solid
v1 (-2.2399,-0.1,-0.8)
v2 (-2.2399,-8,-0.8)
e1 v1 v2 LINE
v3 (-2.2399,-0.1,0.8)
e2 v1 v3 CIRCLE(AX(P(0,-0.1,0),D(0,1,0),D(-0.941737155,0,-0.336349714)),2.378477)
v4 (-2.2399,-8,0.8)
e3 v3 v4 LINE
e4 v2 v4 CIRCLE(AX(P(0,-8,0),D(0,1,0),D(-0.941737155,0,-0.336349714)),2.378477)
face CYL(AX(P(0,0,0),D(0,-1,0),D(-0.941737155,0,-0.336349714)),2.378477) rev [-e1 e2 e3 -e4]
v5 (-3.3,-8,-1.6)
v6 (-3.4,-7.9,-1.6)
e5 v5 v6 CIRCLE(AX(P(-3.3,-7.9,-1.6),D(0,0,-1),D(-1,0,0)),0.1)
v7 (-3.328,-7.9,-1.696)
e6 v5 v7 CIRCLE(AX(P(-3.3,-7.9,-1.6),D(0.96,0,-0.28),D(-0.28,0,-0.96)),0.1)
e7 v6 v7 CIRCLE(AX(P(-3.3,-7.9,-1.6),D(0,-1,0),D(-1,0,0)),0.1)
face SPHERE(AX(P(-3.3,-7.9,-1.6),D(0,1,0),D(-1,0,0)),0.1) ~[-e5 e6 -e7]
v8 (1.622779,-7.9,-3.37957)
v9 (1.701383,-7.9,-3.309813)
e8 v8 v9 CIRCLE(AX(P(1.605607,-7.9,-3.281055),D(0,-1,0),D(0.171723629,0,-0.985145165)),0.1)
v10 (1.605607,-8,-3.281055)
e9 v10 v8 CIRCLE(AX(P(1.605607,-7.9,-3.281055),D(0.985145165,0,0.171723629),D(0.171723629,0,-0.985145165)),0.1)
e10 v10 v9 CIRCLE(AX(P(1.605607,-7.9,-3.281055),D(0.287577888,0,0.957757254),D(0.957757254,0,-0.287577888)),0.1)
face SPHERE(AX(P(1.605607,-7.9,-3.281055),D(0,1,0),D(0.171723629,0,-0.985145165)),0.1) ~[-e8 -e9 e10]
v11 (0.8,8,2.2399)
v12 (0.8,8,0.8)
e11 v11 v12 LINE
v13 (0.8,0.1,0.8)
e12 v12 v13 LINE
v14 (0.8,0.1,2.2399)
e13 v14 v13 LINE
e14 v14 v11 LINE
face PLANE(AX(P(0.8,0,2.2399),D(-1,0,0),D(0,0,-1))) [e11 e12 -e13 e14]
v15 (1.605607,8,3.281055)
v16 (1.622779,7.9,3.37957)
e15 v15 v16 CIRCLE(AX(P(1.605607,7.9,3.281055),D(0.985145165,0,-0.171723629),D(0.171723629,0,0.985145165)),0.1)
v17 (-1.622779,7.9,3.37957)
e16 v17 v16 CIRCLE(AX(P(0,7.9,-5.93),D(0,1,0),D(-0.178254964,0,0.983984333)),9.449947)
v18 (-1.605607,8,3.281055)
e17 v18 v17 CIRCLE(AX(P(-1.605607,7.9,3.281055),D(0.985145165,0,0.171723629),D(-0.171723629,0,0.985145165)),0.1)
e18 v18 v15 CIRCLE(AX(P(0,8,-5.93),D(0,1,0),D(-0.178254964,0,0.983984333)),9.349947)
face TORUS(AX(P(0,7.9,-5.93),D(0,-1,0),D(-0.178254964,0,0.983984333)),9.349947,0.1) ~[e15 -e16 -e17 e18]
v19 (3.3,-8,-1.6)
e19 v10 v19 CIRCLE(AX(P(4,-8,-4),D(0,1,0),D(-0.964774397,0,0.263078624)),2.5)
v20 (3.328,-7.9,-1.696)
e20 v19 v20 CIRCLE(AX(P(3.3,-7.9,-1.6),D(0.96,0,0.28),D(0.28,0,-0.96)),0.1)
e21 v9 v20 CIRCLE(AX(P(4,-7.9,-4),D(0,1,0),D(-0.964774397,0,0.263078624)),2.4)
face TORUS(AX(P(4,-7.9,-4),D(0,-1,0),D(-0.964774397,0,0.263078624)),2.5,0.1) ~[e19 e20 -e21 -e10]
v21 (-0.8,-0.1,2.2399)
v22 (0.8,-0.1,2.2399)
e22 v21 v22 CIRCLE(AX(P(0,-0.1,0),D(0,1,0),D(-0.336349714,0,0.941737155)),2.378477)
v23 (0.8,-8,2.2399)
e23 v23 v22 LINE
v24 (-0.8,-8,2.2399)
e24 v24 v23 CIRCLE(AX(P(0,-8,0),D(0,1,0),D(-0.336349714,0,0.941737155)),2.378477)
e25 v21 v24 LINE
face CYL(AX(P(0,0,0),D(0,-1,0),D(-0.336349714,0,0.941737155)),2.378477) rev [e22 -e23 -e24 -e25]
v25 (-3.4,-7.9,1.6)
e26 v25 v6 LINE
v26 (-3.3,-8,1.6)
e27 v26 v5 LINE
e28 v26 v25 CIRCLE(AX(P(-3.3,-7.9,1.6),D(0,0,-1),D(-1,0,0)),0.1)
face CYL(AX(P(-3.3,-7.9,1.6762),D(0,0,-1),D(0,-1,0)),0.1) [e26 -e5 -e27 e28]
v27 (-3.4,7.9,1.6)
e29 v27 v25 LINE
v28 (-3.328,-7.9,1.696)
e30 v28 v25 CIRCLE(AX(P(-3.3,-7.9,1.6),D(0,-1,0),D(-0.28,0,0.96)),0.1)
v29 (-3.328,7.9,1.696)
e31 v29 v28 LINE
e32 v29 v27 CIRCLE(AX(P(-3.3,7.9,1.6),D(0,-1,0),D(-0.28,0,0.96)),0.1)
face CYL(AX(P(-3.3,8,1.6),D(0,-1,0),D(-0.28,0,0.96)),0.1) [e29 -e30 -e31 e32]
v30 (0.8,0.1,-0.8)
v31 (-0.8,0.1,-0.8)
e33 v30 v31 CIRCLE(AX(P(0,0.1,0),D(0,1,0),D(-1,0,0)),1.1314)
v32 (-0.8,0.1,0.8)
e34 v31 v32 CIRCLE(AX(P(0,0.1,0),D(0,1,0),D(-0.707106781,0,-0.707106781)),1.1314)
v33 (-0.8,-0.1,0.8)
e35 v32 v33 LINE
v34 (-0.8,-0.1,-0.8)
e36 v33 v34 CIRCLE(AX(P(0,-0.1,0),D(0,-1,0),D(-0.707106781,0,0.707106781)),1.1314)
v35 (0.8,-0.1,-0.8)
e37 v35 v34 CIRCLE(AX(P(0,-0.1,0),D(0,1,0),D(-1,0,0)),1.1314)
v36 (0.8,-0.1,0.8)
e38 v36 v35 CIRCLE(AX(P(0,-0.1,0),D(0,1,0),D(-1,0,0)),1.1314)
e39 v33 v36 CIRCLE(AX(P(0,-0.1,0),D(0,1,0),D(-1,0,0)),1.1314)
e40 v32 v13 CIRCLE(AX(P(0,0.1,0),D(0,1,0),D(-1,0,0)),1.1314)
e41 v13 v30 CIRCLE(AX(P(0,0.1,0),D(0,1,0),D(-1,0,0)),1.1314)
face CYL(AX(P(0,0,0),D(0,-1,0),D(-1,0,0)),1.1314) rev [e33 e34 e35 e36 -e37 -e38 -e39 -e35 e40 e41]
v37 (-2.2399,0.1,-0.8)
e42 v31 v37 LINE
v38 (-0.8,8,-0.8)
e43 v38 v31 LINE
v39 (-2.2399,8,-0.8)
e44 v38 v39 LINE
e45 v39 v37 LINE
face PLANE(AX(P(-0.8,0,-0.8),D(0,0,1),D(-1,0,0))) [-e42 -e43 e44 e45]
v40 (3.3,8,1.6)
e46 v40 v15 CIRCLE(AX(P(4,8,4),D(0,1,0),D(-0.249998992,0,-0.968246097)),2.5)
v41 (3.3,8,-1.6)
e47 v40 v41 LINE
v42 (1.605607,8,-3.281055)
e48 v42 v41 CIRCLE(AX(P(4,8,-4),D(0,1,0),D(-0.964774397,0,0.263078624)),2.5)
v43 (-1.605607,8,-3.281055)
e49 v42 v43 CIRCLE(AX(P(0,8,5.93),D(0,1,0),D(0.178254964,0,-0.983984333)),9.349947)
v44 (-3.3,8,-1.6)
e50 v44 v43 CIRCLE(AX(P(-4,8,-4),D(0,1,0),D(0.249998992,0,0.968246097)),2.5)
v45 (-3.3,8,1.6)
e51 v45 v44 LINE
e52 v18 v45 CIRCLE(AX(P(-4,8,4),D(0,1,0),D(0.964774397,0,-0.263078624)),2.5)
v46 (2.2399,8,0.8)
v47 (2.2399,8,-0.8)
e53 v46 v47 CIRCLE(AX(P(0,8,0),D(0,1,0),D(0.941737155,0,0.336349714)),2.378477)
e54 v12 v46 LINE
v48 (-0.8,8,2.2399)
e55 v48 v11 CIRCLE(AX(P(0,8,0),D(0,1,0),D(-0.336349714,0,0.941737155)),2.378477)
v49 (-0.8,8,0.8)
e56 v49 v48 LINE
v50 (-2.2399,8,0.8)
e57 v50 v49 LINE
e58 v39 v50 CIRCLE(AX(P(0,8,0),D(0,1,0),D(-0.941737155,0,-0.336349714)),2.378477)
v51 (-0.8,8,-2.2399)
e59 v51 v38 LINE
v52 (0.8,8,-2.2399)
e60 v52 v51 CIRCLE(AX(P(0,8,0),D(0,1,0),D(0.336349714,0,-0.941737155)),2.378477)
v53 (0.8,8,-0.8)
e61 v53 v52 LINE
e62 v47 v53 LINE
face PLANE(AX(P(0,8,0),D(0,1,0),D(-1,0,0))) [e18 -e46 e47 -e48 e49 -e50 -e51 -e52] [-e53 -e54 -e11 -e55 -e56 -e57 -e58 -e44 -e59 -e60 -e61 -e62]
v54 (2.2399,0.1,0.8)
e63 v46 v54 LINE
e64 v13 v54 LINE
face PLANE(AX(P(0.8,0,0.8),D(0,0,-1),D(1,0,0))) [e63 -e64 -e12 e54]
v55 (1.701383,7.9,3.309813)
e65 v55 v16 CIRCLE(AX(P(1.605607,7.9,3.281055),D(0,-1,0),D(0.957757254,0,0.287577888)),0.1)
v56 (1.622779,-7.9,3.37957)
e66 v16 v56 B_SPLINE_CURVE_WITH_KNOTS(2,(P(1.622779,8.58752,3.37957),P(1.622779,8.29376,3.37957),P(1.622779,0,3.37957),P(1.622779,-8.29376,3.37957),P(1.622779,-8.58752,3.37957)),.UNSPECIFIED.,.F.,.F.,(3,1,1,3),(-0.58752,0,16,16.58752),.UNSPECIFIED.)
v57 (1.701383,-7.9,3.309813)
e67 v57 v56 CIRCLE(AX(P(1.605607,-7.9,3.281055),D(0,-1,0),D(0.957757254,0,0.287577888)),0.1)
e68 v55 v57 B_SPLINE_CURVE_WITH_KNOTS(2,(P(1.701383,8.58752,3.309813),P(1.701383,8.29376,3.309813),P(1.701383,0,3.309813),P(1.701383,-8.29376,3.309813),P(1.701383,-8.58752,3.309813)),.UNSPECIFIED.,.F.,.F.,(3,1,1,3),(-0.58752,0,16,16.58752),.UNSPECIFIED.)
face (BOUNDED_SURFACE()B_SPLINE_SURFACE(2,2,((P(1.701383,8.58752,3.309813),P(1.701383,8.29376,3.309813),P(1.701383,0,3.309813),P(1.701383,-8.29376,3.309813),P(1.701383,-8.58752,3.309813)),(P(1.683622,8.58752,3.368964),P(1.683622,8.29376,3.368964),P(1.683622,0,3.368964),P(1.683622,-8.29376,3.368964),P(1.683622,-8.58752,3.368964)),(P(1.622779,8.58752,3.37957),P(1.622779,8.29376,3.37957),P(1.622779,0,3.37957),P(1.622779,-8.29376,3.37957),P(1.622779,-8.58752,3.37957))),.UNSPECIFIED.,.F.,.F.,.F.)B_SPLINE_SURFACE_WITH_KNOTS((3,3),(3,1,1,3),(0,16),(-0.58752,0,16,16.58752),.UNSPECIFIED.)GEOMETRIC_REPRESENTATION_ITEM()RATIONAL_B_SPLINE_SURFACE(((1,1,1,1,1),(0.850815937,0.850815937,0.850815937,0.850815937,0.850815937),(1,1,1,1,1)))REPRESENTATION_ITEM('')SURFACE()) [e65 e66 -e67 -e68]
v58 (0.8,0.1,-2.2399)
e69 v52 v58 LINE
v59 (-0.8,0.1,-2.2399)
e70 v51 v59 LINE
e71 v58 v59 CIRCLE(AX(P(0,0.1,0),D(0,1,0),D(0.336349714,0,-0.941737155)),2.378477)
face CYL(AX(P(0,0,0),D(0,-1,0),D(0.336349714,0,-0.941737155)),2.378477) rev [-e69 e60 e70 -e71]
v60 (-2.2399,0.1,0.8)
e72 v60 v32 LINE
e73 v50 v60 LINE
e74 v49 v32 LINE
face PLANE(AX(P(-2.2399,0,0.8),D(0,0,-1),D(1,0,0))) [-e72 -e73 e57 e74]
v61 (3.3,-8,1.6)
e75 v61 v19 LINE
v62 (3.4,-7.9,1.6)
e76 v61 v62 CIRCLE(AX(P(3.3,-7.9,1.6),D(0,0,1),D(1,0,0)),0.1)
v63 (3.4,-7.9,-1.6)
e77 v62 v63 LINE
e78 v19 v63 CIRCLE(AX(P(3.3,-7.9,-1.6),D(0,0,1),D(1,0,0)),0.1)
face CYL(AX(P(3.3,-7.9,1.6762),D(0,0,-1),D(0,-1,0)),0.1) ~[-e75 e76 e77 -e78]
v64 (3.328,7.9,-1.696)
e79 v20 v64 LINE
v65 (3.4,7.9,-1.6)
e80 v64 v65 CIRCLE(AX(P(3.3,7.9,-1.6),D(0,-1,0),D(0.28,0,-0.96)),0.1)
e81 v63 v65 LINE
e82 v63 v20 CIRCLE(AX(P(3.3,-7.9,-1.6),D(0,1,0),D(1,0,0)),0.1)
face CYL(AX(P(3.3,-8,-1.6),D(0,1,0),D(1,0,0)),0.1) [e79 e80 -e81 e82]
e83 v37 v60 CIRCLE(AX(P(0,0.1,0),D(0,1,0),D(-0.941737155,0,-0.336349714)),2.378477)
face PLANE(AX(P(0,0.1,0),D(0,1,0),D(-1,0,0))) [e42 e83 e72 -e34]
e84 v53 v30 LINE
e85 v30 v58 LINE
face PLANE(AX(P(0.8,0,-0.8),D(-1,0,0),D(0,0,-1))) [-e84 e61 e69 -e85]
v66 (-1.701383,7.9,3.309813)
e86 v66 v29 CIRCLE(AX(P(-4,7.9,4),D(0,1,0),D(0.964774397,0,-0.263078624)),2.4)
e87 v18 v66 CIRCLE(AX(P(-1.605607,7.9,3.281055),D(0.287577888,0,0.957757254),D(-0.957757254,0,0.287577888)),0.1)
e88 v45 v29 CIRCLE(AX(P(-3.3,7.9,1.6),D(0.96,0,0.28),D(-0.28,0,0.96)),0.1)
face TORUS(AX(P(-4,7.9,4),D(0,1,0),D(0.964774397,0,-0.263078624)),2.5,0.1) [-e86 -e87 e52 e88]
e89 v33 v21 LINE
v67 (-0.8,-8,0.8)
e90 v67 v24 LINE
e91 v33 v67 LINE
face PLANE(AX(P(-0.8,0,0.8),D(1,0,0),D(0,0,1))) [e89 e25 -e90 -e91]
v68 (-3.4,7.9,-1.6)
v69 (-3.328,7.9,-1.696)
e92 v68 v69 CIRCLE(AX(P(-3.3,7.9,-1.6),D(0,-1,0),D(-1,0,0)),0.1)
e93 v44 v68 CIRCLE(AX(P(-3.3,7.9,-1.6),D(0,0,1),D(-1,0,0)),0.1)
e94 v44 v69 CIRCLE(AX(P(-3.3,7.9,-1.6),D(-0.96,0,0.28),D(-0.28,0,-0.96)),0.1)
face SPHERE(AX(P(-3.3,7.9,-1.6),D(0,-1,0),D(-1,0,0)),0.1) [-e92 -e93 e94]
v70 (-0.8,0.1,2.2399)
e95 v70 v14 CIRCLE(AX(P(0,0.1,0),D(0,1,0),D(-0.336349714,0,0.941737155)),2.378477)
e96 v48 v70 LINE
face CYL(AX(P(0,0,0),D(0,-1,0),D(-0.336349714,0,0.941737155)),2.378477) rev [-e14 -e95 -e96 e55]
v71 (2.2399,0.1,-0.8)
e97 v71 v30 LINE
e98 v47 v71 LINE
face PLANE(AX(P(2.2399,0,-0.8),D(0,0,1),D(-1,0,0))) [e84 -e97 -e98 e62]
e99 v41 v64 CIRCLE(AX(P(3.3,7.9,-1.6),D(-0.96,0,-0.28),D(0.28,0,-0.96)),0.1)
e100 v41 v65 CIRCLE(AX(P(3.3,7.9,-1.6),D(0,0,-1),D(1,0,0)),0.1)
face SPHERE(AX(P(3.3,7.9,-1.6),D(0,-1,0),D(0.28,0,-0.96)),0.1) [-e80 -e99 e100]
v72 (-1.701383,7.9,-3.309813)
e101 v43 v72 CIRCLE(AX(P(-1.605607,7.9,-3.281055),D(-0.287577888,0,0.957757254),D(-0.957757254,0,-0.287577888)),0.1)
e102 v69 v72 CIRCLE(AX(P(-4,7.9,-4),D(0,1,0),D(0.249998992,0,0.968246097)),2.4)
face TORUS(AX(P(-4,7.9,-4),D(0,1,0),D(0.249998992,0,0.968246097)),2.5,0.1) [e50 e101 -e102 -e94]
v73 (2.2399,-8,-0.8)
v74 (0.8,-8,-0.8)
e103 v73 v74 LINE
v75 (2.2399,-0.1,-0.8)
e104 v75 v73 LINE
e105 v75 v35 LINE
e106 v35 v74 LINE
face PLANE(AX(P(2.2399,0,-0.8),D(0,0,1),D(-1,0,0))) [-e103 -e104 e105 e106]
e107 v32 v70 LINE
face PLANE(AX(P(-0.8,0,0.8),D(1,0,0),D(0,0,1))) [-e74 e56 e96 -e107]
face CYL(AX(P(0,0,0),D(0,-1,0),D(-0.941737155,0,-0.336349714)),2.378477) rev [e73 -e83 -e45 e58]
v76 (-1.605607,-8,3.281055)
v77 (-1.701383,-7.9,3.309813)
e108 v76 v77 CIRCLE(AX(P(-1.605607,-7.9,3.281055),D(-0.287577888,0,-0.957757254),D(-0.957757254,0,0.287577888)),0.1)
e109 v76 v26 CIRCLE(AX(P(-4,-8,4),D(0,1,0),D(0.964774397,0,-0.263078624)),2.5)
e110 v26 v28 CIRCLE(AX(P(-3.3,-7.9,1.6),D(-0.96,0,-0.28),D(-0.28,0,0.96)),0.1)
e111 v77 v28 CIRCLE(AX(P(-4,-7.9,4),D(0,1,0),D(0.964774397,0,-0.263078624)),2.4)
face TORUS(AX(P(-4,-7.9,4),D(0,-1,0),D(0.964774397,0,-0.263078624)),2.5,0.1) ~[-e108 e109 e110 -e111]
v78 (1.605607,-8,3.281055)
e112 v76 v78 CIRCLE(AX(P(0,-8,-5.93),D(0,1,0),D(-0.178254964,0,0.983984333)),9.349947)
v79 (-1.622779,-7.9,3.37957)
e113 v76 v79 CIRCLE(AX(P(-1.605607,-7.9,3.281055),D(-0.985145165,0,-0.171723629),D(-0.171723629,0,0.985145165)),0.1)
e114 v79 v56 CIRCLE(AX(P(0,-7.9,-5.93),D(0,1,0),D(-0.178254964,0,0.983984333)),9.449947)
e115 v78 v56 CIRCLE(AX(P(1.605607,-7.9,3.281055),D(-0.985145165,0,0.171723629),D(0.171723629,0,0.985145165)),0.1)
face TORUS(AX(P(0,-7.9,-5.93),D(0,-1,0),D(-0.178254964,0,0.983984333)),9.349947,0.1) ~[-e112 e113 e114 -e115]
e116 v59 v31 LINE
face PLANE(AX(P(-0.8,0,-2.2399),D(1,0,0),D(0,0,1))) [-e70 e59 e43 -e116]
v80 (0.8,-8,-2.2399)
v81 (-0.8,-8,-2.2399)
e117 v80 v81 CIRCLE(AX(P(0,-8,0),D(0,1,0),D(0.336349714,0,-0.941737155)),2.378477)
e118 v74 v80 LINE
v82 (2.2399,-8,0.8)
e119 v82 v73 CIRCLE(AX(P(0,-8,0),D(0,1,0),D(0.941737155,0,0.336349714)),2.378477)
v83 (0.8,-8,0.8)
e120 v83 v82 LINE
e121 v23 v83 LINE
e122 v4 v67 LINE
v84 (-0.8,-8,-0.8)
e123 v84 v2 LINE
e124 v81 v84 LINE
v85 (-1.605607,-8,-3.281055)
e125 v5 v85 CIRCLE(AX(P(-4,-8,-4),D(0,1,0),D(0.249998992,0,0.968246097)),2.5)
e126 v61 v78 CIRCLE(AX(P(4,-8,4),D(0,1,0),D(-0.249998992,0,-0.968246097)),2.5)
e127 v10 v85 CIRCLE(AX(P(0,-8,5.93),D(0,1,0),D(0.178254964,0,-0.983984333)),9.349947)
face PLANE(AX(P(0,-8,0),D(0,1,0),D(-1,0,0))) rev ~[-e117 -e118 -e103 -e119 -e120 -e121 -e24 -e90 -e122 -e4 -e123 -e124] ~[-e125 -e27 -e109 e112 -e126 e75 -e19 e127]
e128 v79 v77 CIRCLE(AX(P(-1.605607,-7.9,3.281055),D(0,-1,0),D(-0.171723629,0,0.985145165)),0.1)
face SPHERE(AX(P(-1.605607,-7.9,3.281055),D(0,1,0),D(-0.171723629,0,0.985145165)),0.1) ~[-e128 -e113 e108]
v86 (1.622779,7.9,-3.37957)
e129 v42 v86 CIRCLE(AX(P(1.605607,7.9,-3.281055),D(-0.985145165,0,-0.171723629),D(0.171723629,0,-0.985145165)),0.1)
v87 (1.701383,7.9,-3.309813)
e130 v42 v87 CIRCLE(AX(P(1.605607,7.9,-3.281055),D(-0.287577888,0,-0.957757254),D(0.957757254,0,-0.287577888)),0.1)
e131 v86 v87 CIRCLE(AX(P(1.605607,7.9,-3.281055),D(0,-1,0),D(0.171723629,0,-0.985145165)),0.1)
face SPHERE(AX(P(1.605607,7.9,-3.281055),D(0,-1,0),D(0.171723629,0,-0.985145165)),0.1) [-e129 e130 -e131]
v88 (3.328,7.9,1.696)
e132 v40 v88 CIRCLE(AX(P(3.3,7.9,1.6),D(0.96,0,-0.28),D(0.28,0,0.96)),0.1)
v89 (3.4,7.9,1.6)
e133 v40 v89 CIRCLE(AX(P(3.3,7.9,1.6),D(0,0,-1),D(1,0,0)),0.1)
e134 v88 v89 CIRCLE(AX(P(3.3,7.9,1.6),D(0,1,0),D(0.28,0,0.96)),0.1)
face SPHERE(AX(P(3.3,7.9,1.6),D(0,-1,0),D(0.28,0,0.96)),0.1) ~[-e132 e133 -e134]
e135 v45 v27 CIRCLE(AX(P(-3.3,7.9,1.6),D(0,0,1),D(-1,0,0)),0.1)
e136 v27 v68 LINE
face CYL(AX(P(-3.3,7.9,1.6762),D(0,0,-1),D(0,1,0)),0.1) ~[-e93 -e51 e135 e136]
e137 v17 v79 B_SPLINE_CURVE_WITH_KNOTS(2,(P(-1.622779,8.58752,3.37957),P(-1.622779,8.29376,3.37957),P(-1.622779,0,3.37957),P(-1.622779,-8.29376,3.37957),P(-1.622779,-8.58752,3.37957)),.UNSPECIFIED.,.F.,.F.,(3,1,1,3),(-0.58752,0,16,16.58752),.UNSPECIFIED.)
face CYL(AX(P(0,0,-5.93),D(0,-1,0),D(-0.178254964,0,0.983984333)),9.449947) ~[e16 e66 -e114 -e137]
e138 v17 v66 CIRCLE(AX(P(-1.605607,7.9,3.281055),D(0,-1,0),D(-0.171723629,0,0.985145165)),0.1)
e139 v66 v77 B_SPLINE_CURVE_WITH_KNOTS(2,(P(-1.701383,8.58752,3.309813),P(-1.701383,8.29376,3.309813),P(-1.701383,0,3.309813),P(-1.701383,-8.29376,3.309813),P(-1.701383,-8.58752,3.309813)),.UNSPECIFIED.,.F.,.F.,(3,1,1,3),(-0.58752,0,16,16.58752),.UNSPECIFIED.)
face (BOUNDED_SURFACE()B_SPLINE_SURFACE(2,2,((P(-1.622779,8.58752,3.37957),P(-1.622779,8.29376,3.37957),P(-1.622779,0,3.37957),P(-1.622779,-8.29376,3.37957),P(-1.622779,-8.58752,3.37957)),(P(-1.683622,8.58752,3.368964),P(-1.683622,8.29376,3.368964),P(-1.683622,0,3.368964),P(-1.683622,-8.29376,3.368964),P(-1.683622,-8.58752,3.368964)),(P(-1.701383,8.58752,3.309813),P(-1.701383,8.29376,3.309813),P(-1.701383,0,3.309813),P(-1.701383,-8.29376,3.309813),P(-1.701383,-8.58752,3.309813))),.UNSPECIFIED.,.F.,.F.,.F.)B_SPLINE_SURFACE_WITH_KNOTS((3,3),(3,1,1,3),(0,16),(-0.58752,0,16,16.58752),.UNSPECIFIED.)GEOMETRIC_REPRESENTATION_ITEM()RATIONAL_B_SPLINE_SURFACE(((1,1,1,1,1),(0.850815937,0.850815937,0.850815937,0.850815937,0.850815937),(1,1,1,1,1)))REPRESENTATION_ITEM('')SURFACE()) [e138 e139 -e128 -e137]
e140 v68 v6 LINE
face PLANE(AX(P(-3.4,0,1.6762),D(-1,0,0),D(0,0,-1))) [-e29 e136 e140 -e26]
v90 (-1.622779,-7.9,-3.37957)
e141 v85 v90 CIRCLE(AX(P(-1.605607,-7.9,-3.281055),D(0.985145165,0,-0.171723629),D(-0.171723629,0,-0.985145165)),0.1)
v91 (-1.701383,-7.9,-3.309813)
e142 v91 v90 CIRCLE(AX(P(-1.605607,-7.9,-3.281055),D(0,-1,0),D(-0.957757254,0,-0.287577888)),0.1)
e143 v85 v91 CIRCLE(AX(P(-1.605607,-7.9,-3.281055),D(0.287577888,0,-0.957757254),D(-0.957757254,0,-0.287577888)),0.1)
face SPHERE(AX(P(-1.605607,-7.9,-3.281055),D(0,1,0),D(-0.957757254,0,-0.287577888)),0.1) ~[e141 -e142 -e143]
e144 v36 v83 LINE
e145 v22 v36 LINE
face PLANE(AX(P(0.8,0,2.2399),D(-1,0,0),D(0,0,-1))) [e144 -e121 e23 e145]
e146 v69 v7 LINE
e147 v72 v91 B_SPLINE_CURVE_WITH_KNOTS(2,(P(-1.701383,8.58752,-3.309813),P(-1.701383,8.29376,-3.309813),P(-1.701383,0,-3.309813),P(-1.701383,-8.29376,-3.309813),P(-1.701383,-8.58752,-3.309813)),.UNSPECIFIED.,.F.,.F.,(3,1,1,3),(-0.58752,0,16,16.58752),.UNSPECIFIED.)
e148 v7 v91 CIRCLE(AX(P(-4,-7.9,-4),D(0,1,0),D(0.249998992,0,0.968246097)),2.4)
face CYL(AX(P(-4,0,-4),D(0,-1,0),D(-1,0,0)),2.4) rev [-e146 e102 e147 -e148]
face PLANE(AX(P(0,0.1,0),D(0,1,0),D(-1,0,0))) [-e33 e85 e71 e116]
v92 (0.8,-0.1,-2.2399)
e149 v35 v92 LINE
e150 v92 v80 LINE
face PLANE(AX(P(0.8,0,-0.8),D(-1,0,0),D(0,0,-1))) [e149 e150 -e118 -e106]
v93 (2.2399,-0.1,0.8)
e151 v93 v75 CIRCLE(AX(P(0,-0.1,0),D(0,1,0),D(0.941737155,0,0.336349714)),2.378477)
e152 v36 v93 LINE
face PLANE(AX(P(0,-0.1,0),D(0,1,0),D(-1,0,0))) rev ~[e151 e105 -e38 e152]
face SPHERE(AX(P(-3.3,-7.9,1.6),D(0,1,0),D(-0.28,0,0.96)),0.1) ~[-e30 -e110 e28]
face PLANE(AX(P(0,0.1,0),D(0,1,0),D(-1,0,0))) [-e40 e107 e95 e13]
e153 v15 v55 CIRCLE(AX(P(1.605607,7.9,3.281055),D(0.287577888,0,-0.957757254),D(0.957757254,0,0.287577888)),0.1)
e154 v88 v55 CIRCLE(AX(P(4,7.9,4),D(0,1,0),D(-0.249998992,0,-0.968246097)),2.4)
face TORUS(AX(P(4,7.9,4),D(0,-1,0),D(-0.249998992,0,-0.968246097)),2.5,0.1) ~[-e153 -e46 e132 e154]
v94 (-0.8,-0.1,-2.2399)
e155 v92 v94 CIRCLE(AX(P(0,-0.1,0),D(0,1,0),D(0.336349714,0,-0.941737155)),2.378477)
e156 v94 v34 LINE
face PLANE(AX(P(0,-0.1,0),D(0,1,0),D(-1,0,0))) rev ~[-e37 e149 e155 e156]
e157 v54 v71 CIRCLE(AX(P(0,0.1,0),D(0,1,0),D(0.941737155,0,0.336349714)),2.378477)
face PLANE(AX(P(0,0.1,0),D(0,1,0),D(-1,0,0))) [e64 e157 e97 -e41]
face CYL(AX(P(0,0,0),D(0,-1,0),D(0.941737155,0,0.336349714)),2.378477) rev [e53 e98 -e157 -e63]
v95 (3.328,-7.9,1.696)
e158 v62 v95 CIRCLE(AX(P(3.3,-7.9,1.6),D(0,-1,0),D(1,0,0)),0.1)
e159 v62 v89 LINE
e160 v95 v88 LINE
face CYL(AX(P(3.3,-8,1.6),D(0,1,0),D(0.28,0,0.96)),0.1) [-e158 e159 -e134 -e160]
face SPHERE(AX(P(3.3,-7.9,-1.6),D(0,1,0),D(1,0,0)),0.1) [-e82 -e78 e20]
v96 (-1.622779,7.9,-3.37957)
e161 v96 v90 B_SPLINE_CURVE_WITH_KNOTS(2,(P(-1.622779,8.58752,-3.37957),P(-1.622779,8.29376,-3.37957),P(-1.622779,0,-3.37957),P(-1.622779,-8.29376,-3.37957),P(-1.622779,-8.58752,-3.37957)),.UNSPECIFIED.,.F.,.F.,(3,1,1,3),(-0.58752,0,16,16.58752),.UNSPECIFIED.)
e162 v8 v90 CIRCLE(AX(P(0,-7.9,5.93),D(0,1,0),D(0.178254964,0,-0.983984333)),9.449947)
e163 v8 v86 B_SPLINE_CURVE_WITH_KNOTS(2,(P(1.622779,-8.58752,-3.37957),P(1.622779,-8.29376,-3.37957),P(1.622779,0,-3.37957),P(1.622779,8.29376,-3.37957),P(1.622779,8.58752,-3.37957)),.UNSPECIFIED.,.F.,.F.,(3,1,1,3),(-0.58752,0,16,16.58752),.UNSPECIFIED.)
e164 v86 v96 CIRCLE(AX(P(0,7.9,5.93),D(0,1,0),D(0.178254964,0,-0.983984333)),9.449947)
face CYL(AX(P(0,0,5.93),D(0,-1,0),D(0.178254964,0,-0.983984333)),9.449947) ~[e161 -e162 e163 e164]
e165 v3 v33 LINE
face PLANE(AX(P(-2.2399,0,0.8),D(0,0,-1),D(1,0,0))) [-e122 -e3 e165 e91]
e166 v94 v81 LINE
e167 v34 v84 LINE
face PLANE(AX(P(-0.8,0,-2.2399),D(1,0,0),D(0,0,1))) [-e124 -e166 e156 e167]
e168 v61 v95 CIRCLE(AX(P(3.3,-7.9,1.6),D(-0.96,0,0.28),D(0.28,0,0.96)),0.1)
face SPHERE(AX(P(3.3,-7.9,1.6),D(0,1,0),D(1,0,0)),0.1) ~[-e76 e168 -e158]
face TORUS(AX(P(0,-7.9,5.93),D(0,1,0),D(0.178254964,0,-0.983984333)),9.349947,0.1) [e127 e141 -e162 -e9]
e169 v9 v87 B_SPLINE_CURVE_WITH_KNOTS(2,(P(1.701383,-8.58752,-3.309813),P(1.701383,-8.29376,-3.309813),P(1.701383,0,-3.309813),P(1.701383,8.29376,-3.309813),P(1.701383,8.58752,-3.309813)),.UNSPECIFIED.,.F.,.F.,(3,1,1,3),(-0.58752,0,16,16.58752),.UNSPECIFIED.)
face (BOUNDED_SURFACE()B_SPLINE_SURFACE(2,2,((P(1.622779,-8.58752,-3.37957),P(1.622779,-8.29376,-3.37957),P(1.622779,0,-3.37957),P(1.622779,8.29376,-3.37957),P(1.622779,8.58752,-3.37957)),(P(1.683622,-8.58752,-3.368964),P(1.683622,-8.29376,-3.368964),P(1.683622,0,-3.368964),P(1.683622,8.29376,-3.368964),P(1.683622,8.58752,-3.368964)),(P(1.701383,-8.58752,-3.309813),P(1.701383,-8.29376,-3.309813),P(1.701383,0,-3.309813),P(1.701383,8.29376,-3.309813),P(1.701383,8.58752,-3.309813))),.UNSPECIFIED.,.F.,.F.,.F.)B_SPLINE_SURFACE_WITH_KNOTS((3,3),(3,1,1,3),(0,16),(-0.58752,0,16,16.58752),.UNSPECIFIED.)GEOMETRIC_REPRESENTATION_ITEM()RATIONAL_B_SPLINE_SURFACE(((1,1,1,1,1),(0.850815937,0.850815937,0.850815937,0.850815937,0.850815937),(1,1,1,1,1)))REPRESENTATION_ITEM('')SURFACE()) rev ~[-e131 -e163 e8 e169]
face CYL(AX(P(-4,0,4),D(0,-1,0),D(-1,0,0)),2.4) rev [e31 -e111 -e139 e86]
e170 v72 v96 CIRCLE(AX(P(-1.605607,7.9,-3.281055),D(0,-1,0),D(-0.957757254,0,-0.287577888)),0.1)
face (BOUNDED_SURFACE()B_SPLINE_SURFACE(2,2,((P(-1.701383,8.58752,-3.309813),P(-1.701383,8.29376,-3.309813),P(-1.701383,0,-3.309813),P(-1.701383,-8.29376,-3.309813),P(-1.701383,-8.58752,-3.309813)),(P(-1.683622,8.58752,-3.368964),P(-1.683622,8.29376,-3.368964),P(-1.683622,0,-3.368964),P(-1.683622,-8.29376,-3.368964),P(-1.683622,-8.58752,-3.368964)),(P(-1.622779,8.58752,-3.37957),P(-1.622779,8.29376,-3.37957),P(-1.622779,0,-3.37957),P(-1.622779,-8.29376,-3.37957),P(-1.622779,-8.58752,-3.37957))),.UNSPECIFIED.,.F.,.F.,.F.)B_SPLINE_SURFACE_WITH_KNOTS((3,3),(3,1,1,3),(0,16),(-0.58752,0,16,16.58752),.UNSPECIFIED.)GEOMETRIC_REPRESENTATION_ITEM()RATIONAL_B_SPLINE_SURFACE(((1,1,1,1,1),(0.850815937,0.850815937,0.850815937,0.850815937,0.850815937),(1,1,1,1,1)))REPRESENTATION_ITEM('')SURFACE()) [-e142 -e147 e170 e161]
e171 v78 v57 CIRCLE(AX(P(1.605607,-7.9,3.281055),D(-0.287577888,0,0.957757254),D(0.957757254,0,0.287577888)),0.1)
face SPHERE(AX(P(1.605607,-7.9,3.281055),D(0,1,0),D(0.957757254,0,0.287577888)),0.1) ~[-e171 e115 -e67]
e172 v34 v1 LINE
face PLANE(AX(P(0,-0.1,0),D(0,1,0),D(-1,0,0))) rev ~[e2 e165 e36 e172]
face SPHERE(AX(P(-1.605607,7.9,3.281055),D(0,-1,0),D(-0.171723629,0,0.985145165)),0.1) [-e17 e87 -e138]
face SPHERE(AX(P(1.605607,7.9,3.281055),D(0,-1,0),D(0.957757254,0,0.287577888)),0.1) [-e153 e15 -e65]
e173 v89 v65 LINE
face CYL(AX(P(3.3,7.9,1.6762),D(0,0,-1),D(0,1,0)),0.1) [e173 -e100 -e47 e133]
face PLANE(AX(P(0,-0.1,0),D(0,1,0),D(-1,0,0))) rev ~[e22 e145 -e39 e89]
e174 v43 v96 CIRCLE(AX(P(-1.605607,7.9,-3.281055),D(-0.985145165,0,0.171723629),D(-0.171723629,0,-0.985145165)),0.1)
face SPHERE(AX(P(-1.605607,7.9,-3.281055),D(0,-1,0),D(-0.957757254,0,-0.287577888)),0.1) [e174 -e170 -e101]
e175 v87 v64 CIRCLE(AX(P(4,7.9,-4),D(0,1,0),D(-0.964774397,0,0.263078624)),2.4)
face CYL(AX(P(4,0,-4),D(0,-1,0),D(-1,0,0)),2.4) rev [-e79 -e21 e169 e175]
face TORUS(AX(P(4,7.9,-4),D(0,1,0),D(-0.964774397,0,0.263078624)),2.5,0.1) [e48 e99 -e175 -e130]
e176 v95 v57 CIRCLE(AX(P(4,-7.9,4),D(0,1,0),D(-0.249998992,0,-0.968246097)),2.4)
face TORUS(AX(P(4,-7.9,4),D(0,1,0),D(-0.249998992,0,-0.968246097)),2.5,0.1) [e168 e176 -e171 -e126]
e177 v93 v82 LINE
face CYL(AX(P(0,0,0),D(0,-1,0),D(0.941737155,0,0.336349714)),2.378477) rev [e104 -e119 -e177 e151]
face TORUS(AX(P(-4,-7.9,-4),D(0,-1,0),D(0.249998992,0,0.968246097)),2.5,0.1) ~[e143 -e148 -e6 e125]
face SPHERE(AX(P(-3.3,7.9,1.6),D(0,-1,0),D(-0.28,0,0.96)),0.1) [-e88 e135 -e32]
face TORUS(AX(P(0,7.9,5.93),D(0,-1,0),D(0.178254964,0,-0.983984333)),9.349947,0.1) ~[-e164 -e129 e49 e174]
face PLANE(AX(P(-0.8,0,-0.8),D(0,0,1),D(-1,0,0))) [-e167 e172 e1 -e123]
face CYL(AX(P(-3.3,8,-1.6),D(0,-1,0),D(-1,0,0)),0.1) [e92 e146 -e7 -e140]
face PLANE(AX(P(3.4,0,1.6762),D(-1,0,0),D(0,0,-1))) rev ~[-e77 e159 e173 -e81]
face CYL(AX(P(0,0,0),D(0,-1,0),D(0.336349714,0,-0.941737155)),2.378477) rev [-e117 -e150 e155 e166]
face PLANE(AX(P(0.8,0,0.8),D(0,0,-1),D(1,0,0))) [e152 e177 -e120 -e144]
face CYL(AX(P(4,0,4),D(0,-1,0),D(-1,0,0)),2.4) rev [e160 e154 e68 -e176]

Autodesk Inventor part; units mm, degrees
ref_plane "YZ Plane" through (0, 0, 0) normal (1, 0, 0) x (0, 1, 0)
ref_plane "XZ Plane" through (0, 0, 0) normal (0, 1, 0) x (-1, 0, 0)
ref_plane "XY Plane" through (0, 0, 0) normal (0, 0, 1) x (1, 0, 0)
sketch "Sketch2" plane through (0, 0, 0) normal (0, 1, 0) x (-1, 0, 0)
  circle A0 centre (0, 0) radius 3.52 construction
  circle A1 centre (0, 0) radius 2.3784 construction
  line L0 (-4, 4) -> (4, 4) construction
  line L1 (4, 4) -> (4, -4) construction
  line L2 (-0.8, 2.2399) -> (-0.8, 0.8)
  line L3 (-0.8, 0.8) -> (-2.2399, 0.8)
  line L4 (-2.2399, -0.8) -> (-0.8, -0.8)
  line L5 (-0.8, -0.8) -> (-0.8, -2.2399)
  line L6 (0.8, -2.2399) -> (0.8, -0.8)
  line L7 (0.8, -0.8) -> (2.2399, -0.8)
  line L8 (2.2399, 0.8) -> (0.8, 0.8)
  line L9 (0.8, 0.8) -> (0.8, 2.2399)
  arc A2 (0.8, 2.2399) -> (-0.8, 2.2399) centre (0, 0) ccw
  arc A3 (-2.2399, 0.8) -> (-2.2399, -0.8) centre (0, 0) ccw
  arc A4 (-0.8, -2.2399) -> (0.8, -2.2399) centre (0, 0) ccw
  arc A5 (2.2399, -0.8) -> (2.2399, 0.8) centre (0, 0) ccw
  circle A6 centre (-4, 4) radius 2.4
  circle A7 centre (4, 4) radius 2.4
  circle A8 centre (-4, -4) radius 2.4
  circle A9 centre (4, -4) radius 2.4
  arc A10 (1.6845, 3.3686) -> (-1.6845, 3.3686) centre (0, -5.93) ccw
  line L10 (-3.4, 1.6762) -> (-3.4, -1.6762)
  line L11 (3.4, 1.6762) -> (3.4, -1.6762)
  arc A11 (-1.6845, -3.3686) -> (1.6845, -3.3686) centre (0, 5.93) ccw
  circle A12 centre (0, 0) radius 1.1314
  point P0 (0, 4)
  point P1 (4, 0)
  dimension "d0" = 4.7569
  dimension "d1" = 7.04
  dimension "d2" = 8
  dimension "d4" = 1.6
  dimension "d20" = 4.8
  dimension "d21" = 18.9
  dimension "d22" = 6.8
extrude "Extrusion1" add sketch "Sketch2" along normal mid plane 16 contours A6 A10 A7 L11 A9 A11 A8 L10
extrude "Extrusion3" add sketch "Sketch2" along normal mid plane 0.2 contours A2 L9 A12 L2 | A12 L4 A3 L3 | L8 A5 L7 A12 | A12 L6 A4 L5
fillet "Fillet1" radius 0.1 24 edges at (1.6845, 0, 3.3686) (3.4, 0, 1.6762) (-1.6845, 0, 3.3686) (-3.4, 0, 1.6762) (3.4, 0, -1.6762) (1.6845, 0, -3.3686) (-1.6845, 0, -3.3686) (-3.4, 0, -1.6762) (2.3145, 8, 2.2915) (0, 8, 3.52) (-2.3145, 8, 2.2915) (-3.4, 8, 0) (-2.3145, 8, -2.2915) (0, 8, -3.52) (2.3145, 8, -2.2915) (3.4, 8, 0) (3.4, -8, 0) (2.3145, -8, 2.2915) (0, -8, 3.52) (-2.3145, -8, 2.2915) (-3.4, -8, 0) (-2.3145, -8, -2.2915) (0, -8, -3.52) (2.3145, -8, -2.2915)
equation "\"d2\" = lu"
equation "\"d4\" = axlet"
equation "\"lu\" = 8"
equation "\"axlet\" = 1.6"
properties part number "6538c-White" material "ABS Plastic"
